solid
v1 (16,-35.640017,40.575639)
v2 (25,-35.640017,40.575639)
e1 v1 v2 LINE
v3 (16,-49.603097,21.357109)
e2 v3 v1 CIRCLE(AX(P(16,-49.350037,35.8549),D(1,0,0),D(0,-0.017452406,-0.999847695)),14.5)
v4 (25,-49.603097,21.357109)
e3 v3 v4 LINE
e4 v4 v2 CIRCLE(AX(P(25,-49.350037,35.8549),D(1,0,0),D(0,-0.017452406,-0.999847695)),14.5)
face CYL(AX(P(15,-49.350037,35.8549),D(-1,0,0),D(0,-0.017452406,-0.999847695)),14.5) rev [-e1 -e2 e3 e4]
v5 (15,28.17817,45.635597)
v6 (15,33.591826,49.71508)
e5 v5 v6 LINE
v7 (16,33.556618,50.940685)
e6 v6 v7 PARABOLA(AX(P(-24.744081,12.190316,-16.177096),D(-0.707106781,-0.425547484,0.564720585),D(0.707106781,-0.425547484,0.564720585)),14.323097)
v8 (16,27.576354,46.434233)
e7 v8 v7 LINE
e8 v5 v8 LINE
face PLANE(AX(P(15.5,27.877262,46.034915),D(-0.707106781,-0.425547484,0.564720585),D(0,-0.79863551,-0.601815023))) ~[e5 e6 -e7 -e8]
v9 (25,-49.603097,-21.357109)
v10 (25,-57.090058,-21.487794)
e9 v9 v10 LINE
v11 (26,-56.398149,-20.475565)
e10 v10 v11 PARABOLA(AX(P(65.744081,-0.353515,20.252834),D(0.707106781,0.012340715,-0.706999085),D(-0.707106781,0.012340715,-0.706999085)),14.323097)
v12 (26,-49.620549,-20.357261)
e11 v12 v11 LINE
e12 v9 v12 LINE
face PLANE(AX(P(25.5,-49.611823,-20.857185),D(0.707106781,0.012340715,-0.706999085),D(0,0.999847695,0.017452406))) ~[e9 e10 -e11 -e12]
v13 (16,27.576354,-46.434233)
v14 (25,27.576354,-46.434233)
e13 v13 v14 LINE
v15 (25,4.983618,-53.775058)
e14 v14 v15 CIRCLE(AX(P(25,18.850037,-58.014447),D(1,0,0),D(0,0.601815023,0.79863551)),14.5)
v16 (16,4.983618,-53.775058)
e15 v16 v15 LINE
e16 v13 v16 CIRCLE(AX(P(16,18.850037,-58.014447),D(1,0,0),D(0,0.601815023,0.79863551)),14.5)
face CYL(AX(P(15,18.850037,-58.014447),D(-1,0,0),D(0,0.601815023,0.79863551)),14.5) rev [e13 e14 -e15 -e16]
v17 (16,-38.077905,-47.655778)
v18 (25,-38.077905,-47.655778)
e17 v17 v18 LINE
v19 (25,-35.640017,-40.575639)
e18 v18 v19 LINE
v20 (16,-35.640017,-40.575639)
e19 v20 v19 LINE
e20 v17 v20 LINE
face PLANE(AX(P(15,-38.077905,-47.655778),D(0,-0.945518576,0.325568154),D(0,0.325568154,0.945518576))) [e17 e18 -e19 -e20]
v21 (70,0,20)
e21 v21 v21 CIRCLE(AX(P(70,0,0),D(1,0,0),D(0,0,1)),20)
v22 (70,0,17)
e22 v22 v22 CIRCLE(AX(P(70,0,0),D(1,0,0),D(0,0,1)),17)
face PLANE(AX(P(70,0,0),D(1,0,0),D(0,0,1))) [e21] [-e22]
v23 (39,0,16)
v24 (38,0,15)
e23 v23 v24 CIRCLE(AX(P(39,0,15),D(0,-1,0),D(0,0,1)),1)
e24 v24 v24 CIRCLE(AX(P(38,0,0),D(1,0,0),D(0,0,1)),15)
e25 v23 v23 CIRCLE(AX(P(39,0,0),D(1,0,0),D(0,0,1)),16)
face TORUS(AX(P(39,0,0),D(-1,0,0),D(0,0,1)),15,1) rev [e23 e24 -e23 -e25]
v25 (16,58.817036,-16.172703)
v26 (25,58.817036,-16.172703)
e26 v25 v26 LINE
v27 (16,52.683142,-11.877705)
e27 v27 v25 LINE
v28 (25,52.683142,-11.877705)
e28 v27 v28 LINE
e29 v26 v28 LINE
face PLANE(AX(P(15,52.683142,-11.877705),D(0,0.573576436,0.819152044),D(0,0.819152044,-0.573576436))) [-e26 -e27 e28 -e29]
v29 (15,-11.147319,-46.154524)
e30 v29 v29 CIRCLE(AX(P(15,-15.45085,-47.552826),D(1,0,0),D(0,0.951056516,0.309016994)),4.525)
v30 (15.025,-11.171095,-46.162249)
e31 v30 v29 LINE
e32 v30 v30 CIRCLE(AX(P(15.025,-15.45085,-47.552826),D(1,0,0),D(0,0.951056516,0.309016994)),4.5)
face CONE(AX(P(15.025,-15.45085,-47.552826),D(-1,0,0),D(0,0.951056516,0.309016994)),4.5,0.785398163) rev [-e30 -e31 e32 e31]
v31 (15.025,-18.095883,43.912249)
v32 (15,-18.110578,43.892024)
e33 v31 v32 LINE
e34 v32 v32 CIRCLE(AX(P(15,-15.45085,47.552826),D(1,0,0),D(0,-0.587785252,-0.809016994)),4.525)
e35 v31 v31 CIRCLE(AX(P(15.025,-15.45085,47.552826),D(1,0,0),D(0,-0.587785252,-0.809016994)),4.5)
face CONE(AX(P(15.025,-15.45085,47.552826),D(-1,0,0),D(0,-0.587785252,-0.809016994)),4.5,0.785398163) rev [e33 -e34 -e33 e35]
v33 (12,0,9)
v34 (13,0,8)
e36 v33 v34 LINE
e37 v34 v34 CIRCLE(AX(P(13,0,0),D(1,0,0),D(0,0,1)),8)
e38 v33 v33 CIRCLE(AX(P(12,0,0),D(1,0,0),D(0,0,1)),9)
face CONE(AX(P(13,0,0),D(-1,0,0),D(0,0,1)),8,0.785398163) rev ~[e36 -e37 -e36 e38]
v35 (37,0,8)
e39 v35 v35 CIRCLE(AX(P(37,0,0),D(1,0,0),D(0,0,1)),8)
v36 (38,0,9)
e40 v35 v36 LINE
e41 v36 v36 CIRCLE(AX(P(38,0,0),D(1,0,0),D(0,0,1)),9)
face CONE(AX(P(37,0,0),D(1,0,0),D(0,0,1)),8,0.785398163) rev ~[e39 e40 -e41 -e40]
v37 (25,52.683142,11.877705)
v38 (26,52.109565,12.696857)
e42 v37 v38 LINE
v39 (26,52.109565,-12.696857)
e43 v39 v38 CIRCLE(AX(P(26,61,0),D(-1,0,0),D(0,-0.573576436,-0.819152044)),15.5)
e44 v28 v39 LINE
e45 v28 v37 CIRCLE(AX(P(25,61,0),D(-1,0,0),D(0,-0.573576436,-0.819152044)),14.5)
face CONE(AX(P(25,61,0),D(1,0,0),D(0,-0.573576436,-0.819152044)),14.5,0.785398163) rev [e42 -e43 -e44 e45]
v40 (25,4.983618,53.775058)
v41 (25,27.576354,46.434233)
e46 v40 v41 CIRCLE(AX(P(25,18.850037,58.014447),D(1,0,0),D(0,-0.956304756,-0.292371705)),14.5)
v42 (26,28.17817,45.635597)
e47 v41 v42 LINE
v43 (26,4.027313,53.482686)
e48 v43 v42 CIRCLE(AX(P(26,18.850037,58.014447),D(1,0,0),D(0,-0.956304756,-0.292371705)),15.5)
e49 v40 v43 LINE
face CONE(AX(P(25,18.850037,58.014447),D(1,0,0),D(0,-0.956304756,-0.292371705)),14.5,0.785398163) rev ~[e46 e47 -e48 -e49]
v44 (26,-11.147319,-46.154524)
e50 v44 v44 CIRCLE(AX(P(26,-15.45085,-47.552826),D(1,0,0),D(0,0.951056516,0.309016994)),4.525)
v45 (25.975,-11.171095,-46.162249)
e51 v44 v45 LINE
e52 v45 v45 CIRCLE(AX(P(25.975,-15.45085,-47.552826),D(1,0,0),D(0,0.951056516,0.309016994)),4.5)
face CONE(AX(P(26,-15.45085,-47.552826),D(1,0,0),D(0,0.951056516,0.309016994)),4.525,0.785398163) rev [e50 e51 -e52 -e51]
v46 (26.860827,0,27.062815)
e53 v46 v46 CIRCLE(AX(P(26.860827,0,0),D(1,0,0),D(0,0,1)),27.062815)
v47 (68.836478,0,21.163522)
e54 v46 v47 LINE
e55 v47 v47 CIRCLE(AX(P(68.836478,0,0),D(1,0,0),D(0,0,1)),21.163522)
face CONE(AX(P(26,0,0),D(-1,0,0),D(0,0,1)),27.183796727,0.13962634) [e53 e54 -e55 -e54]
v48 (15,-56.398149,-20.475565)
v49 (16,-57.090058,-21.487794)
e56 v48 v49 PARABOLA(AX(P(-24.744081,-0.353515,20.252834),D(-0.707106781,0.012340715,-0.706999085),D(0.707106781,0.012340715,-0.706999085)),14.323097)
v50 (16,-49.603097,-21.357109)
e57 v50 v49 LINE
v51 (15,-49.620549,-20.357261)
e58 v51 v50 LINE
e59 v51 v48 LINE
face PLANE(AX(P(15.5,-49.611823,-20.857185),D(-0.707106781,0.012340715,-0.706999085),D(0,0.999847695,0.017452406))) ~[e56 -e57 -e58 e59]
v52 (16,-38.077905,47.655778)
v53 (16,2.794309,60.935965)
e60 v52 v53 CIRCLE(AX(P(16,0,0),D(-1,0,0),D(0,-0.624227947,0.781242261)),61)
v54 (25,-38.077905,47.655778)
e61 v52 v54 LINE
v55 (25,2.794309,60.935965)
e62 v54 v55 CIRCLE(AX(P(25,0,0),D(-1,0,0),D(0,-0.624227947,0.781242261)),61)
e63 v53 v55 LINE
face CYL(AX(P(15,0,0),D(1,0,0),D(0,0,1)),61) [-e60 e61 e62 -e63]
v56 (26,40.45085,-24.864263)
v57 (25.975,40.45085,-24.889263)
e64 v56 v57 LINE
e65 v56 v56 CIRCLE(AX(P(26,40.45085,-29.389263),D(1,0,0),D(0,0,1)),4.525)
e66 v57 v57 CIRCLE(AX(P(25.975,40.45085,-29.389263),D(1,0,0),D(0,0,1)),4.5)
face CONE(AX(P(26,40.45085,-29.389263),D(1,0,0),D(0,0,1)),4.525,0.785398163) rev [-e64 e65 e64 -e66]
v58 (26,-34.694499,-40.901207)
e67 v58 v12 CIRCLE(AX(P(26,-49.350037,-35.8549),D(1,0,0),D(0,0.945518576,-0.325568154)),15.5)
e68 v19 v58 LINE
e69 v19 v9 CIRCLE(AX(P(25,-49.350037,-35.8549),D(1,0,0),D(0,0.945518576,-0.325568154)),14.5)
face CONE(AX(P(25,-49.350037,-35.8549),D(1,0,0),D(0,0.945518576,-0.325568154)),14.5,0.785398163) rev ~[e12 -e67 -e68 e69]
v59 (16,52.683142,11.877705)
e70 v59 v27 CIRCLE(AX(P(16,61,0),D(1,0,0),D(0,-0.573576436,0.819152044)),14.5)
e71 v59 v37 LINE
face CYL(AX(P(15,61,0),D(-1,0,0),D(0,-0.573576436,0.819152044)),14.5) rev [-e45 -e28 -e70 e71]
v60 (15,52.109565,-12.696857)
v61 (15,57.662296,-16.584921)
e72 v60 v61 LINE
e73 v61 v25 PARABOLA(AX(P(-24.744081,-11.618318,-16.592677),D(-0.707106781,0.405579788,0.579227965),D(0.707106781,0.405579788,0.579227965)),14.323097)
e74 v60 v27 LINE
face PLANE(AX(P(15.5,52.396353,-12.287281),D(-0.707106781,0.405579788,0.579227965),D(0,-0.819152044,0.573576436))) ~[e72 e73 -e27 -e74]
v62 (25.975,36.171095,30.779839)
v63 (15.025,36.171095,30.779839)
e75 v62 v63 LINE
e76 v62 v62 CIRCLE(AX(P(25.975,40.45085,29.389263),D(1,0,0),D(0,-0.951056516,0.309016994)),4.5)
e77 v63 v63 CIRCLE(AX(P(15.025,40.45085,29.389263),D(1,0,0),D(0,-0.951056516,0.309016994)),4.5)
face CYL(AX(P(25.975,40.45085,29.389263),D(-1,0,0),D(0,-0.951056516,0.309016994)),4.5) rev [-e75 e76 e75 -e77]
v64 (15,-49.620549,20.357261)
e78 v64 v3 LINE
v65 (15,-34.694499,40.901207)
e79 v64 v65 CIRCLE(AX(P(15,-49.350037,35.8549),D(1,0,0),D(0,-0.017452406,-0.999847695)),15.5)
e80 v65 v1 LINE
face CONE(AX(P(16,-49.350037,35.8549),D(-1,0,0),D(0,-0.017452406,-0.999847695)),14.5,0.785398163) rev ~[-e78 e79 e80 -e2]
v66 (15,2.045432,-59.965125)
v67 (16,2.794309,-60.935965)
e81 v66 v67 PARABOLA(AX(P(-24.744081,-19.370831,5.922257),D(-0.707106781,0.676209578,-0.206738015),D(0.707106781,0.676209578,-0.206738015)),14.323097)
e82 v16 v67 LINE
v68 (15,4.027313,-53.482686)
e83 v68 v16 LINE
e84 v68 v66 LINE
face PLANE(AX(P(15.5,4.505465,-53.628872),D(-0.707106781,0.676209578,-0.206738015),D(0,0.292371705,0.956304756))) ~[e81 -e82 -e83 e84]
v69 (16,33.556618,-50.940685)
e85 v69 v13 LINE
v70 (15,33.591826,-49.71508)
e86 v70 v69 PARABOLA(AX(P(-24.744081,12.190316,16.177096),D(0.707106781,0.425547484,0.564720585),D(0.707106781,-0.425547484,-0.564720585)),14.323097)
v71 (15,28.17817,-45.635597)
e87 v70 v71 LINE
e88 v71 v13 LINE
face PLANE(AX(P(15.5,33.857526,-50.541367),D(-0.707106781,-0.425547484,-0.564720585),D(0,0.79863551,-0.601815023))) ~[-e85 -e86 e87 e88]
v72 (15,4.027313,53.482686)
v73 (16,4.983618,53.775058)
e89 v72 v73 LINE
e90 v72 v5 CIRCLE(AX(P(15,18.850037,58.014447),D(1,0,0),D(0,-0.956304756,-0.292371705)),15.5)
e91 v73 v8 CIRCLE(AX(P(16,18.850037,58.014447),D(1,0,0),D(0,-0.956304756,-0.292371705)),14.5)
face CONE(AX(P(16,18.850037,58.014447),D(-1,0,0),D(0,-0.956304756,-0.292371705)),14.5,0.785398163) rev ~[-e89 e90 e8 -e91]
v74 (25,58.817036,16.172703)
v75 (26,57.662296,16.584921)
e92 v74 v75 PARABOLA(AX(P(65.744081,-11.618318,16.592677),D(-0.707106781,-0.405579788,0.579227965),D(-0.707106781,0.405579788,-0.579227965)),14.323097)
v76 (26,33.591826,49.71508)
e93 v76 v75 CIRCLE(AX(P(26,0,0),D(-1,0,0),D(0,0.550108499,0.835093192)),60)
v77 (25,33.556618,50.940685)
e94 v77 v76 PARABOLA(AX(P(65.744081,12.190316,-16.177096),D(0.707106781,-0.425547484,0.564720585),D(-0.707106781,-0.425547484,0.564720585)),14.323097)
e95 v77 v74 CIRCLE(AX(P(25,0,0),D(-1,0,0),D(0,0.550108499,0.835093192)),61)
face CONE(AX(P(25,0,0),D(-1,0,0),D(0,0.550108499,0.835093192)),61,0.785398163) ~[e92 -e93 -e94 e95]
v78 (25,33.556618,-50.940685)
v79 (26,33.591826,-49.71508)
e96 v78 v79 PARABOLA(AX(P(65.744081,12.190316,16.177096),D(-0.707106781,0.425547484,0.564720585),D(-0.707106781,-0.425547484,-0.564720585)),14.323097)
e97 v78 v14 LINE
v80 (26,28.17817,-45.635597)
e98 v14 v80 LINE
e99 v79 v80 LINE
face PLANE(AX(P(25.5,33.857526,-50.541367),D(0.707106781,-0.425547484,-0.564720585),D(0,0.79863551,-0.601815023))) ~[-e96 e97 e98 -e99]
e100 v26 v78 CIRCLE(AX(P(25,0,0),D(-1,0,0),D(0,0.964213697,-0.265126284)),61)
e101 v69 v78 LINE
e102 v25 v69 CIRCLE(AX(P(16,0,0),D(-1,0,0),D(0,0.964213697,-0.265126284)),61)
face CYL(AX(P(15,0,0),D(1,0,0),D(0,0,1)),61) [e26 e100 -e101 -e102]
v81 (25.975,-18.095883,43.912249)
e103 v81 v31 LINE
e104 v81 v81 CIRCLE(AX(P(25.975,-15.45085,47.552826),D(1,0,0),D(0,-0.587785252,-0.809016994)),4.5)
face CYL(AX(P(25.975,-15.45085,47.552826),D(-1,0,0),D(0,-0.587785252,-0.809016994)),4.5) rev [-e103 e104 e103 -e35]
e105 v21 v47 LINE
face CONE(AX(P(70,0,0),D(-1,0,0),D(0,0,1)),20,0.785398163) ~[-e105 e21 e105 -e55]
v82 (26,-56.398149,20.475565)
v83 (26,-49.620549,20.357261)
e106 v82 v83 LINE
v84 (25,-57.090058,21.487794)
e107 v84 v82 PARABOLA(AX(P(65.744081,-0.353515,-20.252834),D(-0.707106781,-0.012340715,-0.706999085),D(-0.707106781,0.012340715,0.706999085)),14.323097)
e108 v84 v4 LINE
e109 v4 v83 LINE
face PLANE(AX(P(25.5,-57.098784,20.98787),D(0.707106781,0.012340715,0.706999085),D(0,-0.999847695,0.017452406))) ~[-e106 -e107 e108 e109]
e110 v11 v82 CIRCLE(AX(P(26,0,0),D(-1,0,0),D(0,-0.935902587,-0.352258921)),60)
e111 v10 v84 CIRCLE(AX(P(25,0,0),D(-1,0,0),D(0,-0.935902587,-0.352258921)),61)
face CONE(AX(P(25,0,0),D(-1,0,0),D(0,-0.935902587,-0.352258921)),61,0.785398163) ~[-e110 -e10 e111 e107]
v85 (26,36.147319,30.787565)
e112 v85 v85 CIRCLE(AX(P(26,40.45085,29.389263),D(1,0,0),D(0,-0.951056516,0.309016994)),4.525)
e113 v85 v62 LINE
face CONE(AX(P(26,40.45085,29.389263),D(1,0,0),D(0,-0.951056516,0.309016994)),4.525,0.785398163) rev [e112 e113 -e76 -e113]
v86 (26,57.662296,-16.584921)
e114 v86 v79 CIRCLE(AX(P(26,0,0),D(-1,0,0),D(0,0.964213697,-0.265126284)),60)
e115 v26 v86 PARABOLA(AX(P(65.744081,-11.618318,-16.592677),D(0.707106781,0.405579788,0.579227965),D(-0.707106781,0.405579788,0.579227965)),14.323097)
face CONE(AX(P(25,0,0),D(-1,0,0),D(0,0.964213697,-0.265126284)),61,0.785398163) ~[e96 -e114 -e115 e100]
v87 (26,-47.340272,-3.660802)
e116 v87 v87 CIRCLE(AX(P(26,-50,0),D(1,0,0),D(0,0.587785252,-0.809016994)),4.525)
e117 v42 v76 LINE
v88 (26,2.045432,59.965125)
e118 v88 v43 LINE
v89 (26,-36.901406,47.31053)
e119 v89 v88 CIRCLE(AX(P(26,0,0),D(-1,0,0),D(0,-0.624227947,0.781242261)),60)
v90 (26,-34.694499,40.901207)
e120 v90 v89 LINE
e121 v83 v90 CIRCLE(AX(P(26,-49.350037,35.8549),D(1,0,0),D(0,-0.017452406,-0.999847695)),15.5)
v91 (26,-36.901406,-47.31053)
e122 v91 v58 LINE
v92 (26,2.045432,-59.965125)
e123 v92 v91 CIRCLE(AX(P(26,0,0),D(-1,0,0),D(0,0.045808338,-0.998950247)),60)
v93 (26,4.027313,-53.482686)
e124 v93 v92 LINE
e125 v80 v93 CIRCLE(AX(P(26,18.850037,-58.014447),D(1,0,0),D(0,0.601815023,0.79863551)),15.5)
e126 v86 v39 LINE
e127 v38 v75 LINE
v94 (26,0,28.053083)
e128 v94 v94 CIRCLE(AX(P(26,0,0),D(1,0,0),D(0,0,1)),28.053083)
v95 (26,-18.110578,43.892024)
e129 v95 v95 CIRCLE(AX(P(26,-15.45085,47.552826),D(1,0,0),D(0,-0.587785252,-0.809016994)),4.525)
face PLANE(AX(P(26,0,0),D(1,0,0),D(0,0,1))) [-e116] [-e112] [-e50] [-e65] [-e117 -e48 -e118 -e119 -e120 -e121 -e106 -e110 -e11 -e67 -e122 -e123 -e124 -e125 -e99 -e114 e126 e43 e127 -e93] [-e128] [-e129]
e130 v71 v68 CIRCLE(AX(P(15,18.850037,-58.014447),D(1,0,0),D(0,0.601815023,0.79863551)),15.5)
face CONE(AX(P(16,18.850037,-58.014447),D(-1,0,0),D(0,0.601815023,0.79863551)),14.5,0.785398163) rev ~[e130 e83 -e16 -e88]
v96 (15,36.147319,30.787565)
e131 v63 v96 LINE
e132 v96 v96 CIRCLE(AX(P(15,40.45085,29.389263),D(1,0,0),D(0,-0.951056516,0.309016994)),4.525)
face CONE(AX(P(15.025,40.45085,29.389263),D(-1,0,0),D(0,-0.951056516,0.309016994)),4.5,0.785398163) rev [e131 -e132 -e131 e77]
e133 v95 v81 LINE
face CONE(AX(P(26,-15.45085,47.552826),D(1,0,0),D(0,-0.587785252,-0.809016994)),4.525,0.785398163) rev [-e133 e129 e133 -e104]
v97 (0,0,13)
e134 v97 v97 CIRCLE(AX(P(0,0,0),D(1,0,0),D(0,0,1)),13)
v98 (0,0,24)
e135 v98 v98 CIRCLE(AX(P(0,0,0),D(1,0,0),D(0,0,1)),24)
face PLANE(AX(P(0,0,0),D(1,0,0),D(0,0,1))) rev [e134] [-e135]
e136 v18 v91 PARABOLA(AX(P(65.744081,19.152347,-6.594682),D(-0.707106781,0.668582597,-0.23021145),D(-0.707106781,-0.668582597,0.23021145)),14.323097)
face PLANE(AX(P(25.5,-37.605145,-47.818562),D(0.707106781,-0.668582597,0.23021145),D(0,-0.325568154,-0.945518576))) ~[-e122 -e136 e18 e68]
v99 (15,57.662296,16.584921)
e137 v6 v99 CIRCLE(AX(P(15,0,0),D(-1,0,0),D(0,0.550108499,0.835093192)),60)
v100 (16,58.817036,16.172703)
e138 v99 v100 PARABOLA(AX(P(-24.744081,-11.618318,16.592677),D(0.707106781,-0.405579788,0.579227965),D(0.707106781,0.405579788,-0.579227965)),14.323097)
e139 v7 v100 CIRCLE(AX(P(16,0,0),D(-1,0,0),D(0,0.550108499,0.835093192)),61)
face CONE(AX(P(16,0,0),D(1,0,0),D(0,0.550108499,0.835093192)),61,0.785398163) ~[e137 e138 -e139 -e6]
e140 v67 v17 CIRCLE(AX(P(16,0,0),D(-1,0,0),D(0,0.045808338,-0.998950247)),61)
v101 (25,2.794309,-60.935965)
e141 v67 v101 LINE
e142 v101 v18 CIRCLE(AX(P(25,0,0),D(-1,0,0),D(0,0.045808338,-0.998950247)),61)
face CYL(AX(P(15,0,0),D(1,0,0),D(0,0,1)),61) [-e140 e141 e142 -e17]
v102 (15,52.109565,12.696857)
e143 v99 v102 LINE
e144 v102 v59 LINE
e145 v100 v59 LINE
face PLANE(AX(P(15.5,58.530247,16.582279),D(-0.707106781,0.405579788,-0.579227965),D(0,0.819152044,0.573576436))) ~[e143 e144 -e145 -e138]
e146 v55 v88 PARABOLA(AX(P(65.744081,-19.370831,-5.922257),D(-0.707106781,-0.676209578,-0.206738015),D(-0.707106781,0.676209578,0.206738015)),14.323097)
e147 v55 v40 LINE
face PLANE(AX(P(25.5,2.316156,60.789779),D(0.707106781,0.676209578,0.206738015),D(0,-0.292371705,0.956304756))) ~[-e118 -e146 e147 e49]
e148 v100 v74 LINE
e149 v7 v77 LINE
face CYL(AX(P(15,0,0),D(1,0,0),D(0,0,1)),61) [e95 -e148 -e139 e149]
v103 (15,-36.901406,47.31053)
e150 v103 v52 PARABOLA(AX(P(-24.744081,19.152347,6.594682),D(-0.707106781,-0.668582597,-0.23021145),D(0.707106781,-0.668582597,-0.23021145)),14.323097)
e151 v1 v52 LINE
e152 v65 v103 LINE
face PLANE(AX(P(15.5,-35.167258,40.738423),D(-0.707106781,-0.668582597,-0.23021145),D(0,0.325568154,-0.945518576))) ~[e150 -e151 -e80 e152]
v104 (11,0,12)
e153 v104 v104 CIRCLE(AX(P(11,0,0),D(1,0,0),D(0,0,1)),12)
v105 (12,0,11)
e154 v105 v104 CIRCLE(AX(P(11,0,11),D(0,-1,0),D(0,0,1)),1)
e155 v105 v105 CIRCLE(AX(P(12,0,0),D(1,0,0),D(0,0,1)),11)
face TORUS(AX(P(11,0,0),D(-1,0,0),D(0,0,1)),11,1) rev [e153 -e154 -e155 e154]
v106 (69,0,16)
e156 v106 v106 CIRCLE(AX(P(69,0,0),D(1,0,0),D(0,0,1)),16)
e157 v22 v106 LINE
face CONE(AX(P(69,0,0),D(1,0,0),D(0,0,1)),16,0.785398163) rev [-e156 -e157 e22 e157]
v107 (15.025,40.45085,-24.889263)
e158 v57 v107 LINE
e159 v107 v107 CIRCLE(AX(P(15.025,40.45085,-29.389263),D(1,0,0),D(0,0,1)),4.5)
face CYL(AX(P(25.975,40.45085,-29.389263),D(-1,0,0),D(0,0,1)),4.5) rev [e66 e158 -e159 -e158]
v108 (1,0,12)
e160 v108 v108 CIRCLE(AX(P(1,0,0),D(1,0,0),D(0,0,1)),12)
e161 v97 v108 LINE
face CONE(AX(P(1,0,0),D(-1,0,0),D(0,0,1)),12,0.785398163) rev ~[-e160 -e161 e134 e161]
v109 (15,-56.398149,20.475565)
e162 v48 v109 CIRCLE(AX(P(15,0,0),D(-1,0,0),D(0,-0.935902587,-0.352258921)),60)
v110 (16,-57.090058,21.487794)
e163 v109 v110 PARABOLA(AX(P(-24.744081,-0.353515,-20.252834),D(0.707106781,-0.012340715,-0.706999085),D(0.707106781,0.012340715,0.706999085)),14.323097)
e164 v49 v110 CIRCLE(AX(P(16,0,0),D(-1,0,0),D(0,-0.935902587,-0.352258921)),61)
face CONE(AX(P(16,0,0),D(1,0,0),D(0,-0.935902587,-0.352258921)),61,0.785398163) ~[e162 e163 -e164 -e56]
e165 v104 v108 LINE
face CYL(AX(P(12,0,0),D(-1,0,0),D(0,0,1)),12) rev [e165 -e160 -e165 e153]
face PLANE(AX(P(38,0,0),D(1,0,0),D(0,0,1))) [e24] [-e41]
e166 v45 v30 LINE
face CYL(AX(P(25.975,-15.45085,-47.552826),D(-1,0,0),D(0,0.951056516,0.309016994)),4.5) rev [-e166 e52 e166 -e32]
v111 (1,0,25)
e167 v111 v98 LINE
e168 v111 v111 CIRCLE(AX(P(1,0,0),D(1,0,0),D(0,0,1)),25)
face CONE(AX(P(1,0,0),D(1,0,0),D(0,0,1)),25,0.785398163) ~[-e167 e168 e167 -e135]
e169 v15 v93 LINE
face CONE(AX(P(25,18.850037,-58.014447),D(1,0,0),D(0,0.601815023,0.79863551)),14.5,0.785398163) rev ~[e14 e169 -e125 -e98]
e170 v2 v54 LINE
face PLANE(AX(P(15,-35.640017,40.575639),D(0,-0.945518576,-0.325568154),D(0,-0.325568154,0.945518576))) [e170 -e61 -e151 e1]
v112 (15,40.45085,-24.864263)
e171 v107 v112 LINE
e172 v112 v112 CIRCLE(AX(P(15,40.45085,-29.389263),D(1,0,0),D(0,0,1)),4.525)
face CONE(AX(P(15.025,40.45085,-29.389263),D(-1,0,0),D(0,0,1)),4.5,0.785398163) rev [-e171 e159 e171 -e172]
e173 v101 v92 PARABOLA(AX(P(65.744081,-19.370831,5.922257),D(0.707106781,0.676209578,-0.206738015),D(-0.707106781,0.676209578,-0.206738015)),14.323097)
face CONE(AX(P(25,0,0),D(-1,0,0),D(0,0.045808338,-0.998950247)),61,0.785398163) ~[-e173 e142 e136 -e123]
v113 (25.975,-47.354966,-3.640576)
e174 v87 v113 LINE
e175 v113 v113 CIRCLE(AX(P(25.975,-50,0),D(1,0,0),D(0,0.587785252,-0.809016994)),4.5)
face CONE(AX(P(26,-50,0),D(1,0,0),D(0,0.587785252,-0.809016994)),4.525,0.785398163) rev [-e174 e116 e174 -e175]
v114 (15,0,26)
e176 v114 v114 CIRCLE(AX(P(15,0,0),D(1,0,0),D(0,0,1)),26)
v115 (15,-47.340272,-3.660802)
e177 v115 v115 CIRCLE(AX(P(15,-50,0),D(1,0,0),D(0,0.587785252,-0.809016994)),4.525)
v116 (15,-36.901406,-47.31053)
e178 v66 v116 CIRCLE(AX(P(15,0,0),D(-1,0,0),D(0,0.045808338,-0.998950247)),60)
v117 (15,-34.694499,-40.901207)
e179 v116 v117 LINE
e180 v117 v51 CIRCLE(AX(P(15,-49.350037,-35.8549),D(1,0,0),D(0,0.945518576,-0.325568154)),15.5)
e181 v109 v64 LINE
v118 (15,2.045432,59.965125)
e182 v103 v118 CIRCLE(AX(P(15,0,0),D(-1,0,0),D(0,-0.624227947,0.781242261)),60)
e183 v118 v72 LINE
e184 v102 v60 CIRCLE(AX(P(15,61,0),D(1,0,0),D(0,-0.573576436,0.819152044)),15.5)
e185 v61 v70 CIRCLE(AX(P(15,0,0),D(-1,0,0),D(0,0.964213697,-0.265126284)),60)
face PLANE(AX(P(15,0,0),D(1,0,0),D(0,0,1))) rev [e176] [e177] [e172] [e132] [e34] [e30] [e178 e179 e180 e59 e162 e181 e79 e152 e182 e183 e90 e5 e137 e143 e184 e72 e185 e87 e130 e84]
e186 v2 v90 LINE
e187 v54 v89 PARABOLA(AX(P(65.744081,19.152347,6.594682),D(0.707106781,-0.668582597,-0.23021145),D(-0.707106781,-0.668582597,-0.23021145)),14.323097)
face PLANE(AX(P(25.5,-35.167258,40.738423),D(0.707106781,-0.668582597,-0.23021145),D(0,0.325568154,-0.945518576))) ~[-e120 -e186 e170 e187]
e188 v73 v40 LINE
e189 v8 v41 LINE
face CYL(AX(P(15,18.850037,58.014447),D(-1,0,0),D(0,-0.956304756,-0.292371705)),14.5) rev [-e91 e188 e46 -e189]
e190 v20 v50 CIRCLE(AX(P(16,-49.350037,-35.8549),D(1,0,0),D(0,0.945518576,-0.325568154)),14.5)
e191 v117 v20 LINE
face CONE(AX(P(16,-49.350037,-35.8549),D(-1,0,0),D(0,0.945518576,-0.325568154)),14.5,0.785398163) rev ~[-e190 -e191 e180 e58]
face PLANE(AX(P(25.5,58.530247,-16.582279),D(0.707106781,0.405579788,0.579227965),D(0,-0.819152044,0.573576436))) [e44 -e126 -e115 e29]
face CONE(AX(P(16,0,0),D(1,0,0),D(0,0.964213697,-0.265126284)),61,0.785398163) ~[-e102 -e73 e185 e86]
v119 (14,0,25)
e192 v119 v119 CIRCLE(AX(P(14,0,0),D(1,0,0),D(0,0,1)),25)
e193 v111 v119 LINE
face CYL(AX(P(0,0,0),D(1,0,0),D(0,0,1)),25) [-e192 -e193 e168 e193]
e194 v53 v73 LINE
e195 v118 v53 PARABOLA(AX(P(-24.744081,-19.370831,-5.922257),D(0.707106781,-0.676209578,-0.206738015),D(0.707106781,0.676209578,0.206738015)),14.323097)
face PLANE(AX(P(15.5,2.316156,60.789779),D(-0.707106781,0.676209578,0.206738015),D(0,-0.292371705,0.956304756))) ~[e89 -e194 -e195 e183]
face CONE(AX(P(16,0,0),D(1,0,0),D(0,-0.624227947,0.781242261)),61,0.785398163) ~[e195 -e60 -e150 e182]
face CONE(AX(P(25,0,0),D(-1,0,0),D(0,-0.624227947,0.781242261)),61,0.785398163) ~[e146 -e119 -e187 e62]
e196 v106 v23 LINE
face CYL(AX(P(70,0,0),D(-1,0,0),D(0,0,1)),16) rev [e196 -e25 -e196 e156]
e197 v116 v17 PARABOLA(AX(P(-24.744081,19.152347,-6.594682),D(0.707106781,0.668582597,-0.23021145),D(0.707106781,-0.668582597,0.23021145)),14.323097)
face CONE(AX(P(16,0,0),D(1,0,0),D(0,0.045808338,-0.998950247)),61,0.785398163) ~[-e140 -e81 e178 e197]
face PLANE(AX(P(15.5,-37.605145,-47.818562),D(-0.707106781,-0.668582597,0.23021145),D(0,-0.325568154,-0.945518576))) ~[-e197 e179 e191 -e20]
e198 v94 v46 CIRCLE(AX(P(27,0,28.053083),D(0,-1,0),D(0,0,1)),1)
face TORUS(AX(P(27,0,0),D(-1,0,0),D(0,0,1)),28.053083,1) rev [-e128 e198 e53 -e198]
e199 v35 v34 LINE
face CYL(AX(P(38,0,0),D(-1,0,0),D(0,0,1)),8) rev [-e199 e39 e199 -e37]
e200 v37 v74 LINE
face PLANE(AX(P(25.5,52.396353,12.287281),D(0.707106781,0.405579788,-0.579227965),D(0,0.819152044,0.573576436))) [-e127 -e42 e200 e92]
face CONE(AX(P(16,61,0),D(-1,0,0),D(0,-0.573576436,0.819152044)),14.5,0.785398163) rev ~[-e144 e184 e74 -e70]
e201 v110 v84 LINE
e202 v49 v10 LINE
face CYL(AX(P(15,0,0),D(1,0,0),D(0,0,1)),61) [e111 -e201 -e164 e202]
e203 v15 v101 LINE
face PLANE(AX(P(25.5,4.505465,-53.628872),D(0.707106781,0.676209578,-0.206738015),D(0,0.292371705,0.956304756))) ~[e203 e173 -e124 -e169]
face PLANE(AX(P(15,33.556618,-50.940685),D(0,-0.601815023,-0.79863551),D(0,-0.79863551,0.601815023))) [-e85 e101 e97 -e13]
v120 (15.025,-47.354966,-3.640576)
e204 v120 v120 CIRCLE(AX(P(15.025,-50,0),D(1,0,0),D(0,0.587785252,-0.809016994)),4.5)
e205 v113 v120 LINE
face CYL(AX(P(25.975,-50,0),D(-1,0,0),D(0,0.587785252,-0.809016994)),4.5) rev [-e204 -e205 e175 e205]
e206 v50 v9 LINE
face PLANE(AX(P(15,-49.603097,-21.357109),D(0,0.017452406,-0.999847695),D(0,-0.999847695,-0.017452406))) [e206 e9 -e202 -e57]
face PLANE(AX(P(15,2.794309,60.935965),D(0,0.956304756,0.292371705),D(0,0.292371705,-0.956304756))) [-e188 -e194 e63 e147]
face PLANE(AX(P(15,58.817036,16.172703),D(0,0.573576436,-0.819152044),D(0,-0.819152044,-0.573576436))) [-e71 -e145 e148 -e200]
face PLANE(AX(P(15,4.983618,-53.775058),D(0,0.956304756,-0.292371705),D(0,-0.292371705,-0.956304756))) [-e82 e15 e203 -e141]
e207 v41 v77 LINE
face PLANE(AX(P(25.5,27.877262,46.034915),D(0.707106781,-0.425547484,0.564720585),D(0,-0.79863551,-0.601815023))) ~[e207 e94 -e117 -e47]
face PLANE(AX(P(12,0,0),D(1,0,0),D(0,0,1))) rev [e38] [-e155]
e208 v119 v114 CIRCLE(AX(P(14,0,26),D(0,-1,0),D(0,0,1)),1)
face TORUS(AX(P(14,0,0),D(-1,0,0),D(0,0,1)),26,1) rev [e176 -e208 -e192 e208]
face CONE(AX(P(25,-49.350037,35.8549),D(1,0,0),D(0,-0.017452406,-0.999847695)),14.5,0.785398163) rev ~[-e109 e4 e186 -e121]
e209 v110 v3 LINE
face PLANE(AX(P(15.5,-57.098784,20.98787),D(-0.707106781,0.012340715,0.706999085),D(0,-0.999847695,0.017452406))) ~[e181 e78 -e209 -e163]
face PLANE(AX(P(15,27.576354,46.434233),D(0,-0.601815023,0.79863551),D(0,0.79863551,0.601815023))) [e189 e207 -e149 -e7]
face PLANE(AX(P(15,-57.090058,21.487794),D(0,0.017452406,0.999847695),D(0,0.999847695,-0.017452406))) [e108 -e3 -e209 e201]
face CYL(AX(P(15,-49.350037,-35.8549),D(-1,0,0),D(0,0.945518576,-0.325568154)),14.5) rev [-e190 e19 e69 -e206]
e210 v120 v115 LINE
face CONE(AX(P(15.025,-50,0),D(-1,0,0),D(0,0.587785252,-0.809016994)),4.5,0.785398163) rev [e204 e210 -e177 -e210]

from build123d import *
from OCP.BRepFilletAPI import BRepFilletAPI_MakeChamfer

# Parameters (mm, degrees)
CUT_EXTRUDE2_REACH = 104.308
FILLET1_R          = 1
CIRPATTERN6_COUNT  = 5
CHAMFER2_SIZE      = 1
CHAMFER2_SIZE2     = 1.174957012


with BuildPart() as part:
    # Sketch1 → Revolve1 (revolve)
    with BuildSketch(Plane.XY, mode=Mode.PRIVATE) as revolve1_sk:
        Polygon((0, 12), (0, 25), (15, 25), (15, 61), (26, 61), (26, 27.183796727), (70, 21), (70, 16), (38, 16), (38, 8), (12, 8), (12, 12), align=None)
    revolve(revolve1_sk.sketch.rotate(Axis((0, 0, 0), (1, 0, 0)), 90), axis=Axis((0, 0, 0), (1, 0, 0)))

    # Sketch3 → Cut-Extrude2 (cut, up to next)
    with BuildSketch(Plane.ZY.offset(-15), mode=Mode.PRIVATE) as cut_extrude2_sk1:
        with BuildLine():
            Line((-11.877704642, 52.683141673), (-16.172703347, 58.817035512))
            ThreePointArc((-16.172703347, 58.817035512), (0, 61), (16.172703347, 58.817035512))
            Line((16.172703347, 58.817035512), (11.877704642, 52.683141673))
            ThreePointArc((11.877704642, 52.683141673), (0, 46.5), (-11.877704642, 52.683141673))
        make_face()
    cut_extrude2_tool1 = extrude(cut_extrude2_sk1.sketch, amount=-CUT_EXTRUDE2_REACH, mode=Mode.PRIVATE) & part.part
    cut_extrude2 = cut_extrude2_tool1.solids().sort_by_distance((15, 54.623829, 0))[0]
    add(cut_extrude2, mode=Mode.SUBTRACT)

    # Fillet1
    fillet1_edges = [part.edges().sort_by_distance(p)[0] for p in [
        (38, 0, -16),
        (26, 0, -27.183796727),
        (15, 0, -25),
        (12, 0, -12),
    ]]
    fillet(fillet1_edges, radius=FILLET1_R)

    # Sketch6 → M3 Clearance Hole2 (revolve, cut)
    with BuildSketch(Plane(origin=(15, 40.450849719, -29.389262615), x_dir=(0, 0, 1), z_dir=(0, 1, 0))):
        Polygon((0, 0), (0, 11), (4.525, 11), (4.5, 10.975), (4.5, 0.025), (4.525, 0), align=None)
    m3_clearance_hole2 = revolve(axis=Axis((8.65, 40.450849719, -29.389262615), (1, 0, 0)), mode=Mode.SUBTRACT)

    # CirPattern6: Cut-Extrude2, M3 Clearance Hole2 ×5 about axis
    cirpattern6_axis = Axis((0, 0, 0), (1, 0, 0))
    add([cut_extrude2.rotate(cirpattern6_axis, i * 360 / CIRPATTERN6_COUNT) for i in range(1, CIRPATTERN6_COUNT)], mode=Mode.SUBTRACT)
    add([m3_clearance_hole2.rotate(cirpattern6_axis, i * 360 / CIRPATTERN6_COUNT) for i in range(1, CIRPATTERN6_COUNT)], mode=Mode.SUBTRACT)

    # Chamfer2: one chamfer whose edges measure the first distance from different faces: ONE call of the kernel's chamfer builder (chamfer() names one face for all edges)
    chamfer2_edges_1 = [part.edges().sort_by_distance(p)[0] for p in [
        (26, 3.888963162, 57.355511424),
        (38, 0, -8),
        (26, 14.369290238, 44.224128008),
        (26, 30.566486464, 48.687458656),
        (15, 30.566486464, 48.687458656),
        (15, 14.369290238, 44.224128008),
        (15, 3.888963162, 57.355511424),
        (70, 0, -16),
        (0, 0, -25),
        (0, 0, -12),
        (26, 49.350036657, -35.85490039),
        (15, 49.350036657, -35.85490039),
        (15, 46.5, 0),
        (15, 55.750088593, 14.025203995),
        (15, 55.750088593, -14.025203995),
        (26, 46.5, 0),
        (26, 55.750088593, -14.025203995),
        (26, 55.750088593, 14.025203995),
        (26, -18.850036657, -58.014447494),
        (26, -61, 0),
        (26, -18.850036657, 58.014447494),
        (26, 49.350036657, 35.85490039),
        (15, -18.850036657, -58.014447494),
        (15, -61, 0),
        (15, -18.850036657, 58.014447494),
        (15, 49.350036657, 35.85490039),
        (26, 30.566486464, -48.687458656),
        (26, 14.369290238, -44.224128008),
        (26, 3.888963162, -57.355511424),
        (15, 3.888963162, -57.355511424),
        (15, 14.369290238, -44.224128008),
        (15, 30.566486464, -48.687458656),
        (26, -36.858961041, -44.11570827),
        (26, -37.619290238, -27.332014232),
        (26, -53.346577178, -21.422451507),
        (15, -53.346577178, -21.422451507),
        (15, -37.619290238, -27.332014232),
        (15, -36.858961041, -44.11570827),
        (12, 0, -8),
        (26, -53.346577178, 21.422451507),
        (26, -37.619290238, 27.332014232),
        (26, -36.858961041, 44.11570827),
        (15, -36.858961041, 44.11570827),
        (15, -37.619290238, 27.332014232),
        (15, -53.346577178, 21.422451507),
    ]]
    chamfer2_edges_2 = [part.edges().sort_by_distance(p)[0] for p in [
        (70, 0, -21),
    ]]
    chamfer2_side_2 = [part.faces().sort_by_distance(p)[0] for p in [
        (70, 0, -20.406030304),
    ]]
    chamfer2 = BRepFilletAPI_MakeChamfer(part.part.solid().wrapped)
    for e in chamfer2_edges_1:
        chamfer2.Add(CHAMFER2_SIZE, e.wrapped)
    for e in chamfer2_edges_2:
        chamfer2.Add(CHAMFER2_SIZE, CHAMFER2_SIZE2, e.wrapped, chamfer2_side_2[0].wrapped)  # the first distance lies on this face
    add(Compound.cast(chamfer2.Shape()), mode=Mode.REPLACE)


solid = part.part
